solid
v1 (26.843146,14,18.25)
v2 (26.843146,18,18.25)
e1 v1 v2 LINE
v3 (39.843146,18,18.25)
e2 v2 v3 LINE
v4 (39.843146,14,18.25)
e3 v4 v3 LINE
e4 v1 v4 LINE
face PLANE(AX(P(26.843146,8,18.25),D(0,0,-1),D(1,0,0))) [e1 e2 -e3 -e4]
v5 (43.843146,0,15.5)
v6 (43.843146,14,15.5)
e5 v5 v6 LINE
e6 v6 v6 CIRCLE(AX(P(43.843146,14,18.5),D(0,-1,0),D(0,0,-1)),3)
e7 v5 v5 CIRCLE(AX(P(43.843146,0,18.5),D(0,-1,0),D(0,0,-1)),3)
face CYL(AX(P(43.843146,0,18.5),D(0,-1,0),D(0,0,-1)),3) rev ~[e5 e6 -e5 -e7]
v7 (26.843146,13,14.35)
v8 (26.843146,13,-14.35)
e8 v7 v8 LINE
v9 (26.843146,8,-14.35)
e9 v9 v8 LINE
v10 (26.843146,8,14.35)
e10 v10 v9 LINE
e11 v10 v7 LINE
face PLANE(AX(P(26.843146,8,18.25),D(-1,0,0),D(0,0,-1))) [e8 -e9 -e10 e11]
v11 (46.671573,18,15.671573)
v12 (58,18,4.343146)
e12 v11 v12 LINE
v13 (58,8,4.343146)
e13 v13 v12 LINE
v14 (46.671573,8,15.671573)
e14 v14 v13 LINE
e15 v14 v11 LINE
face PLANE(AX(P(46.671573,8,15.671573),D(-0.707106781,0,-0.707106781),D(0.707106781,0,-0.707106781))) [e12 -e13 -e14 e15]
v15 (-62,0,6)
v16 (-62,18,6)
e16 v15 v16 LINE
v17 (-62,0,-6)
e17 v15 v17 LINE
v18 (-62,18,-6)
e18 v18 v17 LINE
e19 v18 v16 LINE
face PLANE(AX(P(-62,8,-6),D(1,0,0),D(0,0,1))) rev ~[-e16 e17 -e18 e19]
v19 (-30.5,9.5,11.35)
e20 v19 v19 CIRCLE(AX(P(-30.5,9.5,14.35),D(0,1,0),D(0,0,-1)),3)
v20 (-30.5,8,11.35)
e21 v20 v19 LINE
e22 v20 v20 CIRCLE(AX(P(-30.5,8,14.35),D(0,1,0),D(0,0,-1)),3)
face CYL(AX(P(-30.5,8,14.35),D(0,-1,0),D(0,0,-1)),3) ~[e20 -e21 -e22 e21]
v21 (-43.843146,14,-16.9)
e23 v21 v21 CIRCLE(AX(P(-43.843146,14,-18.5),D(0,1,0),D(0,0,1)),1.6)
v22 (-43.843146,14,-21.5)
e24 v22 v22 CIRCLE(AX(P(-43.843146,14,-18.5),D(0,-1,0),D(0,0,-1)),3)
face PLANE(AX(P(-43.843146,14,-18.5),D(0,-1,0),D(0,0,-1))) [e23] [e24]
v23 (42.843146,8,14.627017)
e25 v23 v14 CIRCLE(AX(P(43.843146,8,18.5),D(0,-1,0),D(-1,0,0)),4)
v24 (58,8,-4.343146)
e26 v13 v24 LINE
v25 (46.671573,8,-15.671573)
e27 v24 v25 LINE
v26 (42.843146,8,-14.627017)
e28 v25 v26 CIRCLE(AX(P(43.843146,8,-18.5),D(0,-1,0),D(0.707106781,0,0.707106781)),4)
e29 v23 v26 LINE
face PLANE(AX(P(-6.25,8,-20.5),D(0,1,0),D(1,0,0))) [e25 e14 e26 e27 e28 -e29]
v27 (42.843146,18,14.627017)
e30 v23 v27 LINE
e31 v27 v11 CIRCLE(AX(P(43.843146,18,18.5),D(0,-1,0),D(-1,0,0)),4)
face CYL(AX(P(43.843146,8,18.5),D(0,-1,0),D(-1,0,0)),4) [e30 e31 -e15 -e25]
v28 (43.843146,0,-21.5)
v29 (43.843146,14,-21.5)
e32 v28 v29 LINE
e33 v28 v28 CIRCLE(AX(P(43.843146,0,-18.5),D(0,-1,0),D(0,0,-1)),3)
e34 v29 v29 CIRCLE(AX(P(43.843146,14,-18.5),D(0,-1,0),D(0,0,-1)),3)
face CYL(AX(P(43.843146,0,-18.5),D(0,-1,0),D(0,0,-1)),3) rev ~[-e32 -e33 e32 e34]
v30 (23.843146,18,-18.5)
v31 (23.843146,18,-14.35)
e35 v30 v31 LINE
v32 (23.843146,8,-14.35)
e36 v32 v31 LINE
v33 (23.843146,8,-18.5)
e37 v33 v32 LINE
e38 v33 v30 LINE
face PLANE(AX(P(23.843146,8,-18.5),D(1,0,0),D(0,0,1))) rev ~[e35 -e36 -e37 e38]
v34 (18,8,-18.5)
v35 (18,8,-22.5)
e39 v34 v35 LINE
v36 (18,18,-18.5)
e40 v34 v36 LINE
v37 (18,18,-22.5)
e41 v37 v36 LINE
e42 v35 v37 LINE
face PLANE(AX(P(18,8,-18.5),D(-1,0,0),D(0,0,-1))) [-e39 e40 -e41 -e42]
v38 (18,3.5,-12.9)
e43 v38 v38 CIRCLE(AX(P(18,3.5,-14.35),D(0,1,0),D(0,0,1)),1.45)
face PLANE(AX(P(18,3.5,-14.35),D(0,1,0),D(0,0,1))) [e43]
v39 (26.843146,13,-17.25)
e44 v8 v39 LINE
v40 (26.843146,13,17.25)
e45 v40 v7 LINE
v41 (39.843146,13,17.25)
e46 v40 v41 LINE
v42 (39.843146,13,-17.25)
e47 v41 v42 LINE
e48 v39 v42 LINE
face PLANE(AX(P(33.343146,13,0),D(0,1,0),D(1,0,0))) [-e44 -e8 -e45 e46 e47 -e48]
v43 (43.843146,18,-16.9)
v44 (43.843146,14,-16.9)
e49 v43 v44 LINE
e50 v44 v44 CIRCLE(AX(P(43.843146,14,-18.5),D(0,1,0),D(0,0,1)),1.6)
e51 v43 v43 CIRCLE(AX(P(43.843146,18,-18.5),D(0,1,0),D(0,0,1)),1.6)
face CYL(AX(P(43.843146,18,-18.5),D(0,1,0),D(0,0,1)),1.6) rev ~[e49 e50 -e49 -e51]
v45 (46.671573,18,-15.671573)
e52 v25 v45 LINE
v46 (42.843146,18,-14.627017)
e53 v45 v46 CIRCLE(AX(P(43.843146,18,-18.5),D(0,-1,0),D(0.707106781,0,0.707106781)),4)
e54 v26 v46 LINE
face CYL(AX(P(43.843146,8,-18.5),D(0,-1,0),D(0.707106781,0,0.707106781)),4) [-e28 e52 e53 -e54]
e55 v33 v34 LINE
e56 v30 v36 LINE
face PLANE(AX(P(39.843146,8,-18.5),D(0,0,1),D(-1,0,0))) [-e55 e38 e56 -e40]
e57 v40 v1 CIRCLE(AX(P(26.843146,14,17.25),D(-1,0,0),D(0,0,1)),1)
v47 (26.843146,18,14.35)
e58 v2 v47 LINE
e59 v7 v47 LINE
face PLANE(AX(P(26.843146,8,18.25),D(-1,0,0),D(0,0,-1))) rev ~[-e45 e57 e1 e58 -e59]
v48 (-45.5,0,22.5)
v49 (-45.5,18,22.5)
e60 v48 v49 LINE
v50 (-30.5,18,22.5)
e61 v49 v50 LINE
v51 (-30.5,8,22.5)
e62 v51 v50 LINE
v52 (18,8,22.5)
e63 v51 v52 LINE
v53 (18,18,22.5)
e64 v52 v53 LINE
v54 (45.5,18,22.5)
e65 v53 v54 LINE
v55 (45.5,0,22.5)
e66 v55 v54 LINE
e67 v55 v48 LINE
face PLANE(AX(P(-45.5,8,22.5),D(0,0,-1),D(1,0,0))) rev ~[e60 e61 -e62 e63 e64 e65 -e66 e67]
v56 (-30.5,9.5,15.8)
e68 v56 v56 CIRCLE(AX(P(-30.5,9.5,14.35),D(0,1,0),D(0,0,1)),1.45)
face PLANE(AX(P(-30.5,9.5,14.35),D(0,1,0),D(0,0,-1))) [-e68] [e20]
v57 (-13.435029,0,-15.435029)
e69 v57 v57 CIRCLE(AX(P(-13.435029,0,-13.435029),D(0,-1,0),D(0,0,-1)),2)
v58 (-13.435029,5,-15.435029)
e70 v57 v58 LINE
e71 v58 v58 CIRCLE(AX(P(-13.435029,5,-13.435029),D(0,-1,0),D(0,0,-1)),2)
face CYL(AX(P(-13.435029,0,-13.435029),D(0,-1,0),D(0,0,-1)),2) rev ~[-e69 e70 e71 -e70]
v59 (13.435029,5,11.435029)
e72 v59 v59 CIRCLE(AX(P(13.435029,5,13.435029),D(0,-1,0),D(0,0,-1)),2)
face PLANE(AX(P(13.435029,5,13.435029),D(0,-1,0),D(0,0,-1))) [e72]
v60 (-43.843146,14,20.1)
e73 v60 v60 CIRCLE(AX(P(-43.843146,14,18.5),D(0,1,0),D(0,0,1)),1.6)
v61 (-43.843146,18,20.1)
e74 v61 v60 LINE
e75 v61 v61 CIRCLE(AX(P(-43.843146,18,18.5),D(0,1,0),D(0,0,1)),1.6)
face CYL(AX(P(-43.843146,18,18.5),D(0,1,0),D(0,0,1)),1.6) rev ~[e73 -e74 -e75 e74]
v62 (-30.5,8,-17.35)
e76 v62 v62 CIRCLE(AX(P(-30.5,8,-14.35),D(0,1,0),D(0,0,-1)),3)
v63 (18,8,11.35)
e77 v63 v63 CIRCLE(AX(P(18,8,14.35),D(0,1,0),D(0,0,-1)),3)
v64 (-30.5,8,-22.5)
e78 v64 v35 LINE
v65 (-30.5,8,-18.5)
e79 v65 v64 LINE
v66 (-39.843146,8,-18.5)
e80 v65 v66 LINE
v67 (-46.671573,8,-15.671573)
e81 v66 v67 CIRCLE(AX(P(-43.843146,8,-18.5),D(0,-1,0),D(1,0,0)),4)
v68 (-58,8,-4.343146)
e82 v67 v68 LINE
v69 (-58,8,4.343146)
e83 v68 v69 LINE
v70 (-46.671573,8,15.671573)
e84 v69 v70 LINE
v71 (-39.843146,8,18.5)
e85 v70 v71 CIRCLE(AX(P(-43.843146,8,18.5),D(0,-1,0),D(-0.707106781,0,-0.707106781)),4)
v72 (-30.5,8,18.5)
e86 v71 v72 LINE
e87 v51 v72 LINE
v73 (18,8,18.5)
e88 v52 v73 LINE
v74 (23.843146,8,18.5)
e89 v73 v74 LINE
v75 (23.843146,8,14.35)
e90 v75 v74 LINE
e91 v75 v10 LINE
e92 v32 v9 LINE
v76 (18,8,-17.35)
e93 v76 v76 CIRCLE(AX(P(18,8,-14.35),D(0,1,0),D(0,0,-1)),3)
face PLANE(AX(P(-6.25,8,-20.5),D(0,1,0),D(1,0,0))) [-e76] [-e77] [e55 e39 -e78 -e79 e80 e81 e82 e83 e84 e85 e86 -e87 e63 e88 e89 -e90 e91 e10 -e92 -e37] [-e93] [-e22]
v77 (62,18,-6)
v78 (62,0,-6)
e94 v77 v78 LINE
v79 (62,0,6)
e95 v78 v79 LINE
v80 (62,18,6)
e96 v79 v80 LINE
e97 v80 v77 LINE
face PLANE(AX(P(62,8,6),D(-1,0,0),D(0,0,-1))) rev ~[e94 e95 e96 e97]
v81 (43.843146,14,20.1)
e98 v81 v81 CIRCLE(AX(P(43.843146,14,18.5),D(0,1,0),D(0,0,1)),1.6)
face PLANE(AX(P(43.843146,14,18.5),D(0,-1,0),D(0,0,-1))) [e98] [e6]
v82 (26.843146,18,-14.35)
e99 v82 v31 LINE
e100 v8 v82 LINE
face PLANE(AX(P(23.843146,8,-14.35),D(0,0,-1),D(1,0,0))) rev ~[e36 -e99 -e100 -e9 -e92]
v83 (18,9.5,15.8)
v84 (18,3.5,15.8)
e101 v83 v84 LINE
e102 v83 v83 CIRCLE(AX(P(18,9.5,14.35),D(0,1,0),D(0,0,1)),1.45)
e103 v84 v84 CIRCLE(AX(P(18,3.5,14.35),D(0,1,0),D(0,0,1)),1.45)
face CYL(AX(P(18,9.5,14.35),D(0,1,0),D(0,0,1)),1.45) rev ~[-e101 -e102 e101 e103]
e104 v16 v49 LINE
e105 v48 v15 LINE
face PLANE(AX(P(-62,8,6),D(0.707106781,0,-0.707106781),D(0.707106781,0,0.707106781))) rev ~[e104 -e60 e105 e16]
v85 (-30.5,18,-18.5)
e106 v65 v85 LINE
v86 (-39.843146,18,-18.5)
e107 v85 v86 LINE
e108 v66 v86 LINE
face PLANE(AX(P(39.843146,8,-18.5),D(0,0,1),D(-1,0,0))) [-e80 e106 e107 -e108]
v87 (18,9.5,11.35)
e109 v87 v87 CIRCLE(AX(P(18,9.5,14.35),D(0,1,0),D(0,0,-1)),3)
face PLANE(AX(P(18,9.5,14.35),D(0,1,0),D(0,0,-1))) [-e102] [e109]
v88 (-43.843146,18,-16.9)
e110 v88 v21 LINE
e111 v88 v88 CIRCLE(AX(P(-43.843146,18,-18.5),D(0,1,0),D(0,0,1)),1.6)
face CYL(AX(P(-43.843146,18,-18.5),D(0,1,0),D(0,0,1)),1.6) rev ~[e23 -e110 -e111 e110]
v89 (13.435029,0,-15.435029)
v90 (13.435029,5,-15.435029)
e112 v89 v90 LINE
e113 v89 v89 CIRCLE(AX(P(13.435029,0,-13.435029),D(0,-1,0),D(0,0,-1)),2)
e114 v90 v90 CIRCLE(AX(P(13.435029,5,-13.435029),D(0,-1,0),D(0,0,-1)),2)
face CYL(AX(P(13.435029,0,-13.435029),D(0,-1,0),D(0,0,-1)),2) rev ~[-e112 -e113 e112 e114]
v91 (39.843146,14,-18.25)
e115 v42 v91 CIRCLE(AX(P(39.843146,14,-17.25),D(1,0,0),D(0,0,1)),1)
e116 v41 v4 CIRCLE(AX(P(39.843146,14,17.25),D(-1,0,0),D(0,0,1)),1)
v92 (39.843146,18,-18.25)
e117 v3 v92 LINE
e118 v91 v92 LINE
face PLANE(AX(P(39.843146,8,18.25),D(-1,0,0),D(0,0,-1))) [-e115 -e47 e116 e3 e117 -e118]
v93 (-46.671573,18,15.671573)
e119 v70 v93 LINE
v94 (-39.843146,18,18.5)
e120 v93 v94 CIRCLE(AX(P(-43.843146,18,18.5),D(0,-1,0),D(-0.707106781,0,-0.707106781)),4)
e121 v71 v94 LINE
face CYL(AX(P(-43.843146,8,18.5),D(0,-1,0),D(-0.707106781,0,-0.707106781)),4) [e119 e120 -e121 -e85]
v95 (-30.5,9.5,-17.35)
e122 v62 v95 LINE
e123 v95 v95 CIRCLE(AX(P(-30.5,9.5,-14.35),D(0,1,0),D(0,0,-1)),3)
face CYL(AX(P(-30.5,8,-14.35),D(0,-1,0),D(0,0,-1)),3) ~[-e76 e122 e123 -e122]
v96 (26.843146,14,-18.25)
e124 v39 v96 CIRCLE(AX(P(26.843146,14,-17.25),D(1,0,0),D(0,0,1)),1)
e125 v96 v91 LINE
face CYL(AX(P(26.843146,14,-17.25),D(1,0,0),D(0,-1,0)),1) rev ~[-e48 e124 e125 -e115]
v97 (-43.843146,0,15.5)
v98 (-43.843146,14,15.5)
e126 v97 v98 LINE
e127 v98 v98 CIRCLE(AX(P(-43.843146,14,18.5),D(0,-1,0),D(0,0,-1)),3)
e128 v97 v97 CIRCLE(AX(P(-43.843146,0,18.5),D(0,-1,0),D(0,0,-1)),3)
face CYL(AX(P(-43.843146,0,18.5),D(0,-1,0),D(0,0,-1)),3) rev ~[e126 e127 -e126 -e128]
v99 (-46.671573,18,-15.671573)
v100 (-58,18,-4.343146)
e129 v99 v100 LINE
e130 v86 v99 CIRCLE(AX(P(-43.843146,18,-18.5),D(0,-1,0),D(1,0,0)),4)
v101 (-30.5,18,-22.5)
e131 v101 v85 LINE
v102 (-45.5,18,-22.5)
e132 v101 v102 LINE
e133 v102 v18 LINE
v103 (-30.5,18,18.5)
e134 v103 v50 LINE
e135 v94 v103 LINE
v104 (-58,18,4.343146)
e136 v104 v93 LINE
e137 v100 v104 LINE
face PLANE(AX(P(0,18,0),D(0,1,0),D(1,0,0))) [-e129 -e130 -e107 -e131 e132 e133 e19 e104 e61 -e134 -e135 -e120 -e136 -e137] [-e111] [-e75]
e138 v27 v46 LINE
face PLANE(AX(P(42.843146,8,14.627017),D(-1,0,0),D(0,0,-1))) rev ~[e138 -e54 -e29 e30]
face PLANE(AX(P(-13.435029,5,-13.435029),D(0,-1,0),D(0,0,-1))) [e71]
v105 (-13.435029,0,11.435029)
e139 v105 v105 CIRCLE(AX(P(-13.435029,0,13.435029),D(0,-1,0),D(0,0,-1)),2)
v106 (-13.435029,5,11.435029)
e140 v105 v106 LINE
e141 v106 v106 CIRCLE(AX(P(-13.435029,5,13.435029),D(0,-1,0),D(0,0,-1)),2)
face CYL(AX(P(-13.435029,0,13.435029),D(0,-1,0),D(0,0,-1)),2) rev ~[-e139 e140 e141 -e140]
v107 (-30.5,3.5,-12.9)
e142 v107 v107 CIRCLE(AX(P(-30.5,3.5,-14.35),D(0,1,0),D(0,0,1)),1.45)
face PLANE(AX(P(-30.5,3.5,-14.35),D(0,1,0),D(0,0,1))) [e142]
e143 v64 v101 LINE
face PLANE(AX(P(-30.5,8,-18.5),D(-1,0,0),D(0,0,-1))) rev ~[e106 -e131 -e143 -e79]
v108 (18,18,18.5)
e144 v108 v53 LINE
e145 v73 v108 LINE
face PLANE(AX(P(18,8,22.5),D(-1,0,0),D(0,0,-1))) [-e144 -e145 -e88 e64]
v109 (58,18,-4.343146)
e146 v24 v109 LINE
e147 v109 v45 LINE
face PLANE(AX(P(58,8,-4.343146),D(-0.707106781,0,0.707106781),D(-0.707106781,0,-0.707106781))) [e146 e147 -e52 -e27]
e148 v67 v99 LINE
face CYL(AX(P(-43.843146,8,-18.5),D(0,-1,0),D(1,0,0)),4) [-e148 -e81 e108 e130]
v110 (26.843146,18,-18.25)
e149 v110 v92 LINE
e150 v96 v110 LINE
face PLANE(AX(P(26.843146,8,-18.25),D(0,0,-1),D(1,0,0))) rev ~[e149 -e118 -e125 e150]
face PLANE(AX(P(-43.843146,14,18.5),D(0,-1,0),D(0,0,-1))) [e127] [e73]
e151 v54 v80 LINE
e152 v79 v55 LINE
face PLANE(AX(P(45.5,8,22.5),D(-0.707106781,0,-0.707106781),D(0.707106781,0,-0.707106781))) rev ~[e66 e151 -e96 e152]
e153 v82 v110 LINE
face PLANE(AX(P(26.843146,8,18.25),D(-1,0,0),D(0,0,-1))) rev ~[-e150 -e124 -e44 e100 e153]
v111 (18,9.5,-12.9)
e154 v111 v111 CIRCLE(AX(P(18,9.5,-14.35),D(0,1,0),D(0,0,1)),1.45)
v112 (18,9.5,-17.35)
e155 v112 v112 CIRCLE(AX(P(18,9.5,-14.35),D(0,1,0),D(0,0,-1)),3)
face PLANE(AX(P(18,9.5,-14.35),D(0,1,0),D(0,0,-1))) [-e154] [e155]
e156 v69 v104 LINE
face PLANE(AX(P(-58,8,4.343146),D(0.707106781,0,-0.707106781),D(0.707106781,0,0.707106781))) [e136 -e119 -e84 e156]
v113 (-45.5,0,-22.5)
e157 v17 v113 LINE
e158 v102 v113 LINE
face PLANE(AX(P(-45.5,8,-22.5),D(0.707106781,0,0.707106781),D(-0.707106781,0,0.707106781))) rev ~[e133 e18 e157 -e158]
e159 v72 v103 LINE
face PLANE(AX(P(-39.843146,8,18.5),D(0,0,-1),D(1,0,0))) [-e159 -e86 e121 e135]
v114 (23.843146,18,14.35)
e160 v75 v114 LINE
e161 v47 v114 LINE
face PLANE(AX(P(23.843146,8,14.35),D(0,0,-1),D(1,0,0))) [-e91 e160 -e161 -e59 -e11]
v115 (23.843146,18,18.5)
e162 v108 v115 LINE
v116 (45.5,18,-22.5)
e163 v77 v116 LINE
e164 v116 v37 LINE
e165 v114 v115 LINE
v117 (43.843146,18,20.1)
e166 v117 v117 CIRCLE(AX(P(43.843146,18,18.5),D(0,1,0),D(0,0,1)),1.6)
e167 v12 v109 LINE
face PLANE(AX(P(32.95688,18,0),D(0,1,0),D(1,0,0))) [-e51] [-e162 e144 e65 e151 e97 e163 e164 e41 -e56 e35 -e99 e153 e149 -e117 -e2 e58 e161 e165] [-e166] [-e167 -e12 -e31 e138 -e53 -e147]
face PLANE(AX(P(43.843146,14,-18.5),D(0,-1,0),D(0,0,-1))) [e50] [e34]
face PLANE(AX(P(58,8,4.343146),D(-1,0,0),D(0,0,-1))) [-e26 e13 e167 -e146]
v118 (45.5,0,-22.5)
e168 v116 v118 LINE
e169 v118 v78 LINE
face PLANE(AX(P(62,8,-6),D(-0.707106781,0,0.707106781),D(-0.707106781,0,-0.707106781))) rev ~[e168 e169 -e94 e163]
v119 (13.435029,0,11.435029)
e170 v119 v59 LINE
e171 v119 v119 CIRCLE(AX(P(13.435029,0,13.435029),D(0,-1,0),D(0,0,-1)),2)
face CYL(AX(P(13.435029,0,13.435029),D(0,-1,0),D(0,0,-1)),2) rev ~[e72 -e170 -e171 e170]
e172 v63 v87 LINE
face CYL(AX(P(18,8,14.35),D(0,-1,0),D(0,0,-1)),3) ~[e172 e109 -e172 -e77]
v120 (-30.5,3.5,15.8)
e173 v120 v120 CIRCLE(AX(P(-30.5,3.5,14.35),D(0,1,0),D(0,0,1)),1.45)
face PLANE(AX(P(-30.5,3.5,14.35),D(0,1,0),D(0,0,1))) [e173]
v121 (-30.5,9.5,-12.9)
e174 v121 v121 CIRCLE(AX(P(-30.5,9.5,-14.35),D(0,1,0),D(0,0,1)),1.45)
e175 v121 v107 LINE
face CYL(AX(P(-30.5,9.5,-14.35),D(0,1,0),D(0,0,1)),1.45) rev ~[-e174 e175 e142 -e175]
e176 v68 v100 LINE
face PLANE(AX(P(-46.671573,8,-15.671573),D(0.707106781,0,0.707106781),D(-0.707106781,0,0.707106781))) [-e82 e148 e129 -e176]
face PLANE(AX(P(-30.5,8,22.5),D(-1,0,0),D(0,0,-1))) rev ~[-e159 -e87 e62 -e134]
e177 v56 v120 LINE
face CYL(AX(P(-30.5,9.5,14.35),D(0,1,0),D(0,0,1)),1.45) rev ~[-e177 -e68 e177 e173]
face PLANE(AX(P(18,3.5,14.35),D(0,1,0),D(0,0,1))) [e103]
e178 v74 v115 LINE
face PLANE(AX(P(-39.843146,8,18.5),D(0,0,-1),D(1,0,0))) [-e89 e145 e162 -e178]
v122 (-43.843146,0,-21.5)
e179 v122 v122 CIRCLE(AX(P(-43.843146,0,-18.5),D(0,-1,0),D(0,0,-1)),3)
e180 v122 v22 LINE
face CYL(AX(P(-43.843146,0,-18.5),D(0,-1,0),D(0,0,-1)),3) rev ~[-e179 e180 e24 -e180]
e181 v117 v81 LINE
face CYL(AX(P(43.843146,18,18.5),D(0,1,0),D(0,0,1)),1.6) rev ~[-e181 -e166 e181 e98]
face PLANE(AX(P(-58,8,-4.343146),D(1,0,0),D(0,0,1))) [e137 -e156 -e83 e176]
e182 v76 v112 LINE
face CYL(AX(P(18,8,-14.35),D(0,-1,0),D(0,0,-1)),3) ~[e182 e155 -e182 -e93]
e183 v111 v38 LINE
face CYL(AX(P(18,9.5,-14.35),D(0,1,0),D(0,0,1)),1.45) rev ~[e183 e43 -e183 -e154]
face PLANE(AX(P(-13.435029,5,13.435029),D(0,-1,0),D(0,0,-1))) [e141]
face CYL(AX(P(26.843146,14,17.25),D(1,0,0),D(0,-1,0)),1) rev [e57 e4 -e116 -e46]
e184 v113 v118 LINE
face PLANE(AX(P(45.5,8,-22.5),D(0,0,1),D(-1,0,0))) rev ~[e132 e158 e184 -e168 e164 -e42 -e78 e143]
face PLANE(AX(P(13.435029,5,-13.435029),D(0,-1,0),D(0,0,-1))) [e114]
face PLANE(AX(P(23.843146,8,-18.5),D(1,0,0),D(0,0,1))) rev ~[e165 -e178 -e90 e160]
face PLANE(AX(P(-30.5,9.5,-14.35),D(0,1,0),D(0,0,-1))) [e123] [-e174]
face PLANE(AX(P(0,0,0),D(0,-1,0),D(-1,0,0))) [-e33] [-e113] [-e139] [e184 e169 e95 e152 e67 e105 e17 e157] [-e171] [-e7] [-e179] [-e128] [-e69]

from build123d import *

# Parameters (mm, degrees)
BOSS_EXTRUDE1_DEPTH = 8
BOSS_EXTRUDE2_DEPTH = 10
SKETCH6_R           = 3
BOSS_EXTRUDE3_DEPTH = 1.5
SKETCH7_W           = 48.5
SKETCH7_H           = 4
CUT_EXTRUDE3_DEPTH  = 67.710194124
SKETCH8_W           = 13
SKETCH8_H           = 36.5
BOSS_EXTRUDE4_DEPTH = 10
SKETCH9_W           = 3
SKETCH9_H           = 28.7
CUT_EXTRUDE4_DEPTH  = 67.710194124
SKETCH10_R          = 1.6
CUT_EXTRUDE5_DEPTH  = 69.368486893
SKETCH11_R          = 3
CUT_EXTRUDE6_DEPTH  = 14
SKETCH12_R          = 1.45
CUT_EXTRUDE7_DEPTH  = 6
SKETCH13_W          = 13
SKETCH13_H          = 36.5
BOSS_EXTRUDE5_DEPTH = 5
SKETCH14_R          = 2
CUT_EXTRUDE8_DEPTH  = 5
FILLET1_R           = 1


with BuildPart() as part:
    # Sketch2 → Boss-Extrude1 (new body)
    with BuildSketch(Plane(origin=(0, 0, 0), x_dir=(1, 0, 0), z_dir=(0, 1, 0))):
        Polygon((-62, 6), (-45.5, 22.5), (45.5, 22.5), (62, 6), (62, -6), (45.5, -22.5), (-45.5, -22.5), (-62, -6), align=None)
    extrude(amount=BOSS_EXTRUDE1_DEPTH)

    # Sketch5 → Boss-Extrude2 (add)
    with BuildSketch(Plane(origin=(0, 8, 0), x_dir=(1, 0, 0), z_dir=(0, 1, 0))):
        Polygon((-62, 6), (-62, -6), (-45.5, -22.5), (45.5, -22.5), (62, -6), (62, 6), (45.5, 22.5), (-45.5, 22.5), align=None)
        with BuildLine():
            Line((-58, 4.343145751), (-58, -4.343145751))
            Line((-58, -4.343145751), (-46.671572875, -15.671572875))
            ThreePointArc((-46.671572875, -15.671572875), (-42.312412021, -14.80448187), (-39.843145751, -18.5))
            Line((-39.843145751, -18.5), (39.843145751, -18.5))
            ThreePointArc((39.843145751, -18.5), (42.312412021, -14.80448187), (46.671572875, -15.671572875))
            Line((46.671572875, -15.671572875), (58, -4.343145751))
            Line((58, -4.343145751), (58, 4.343145751))
            Line((58, 4.343145751), (46.671572875, 15.671572875))
            ThreePointArc((46.671572875, 15.671572875), (42.312412021, 14.80448187), (39.843145751, 18.5))
            Line((39.843145751, 18.5), (-39.843145751, 18.5))
            ThreePointArc((-39.843145751, 18.5), (-42.312412021, 14.80448187), (-46.671572875, 15.671572875))
            Line((-46.671572875, 15.671572875), (-58, 4.343145751))
        make_face(mode=Mode.SUBTRACT)
    extrude(amount=BOSS_EXTRUDE2_DEPTH)

    # Sketch6 → Boss-Extrude3 (add)
    with BuildSketch(Plane(origin=(0, 8, 0), x_dir=(1, 0, 0), z_dir=(0, 1, 0))):
        with Locations(Location((18, 14.35, 0), (0, 0, 90))):
            Circle(SKETCH6_R)
        with Locations(Location((-30.5, 14.35, 0), (0, 0, 90))):
            Circle(SKETCH6_R)
        with Locations(Location((-30.5, -14.35, 0), (0, 0, 90))):
            Circle(SKETCH6_R)
        with Locations(Location((18, -14.35, 0), (0, 0, 90))):
            Circle(SKETCH6_R)
    extrude(amount=BOSS_EXTRUDE3_DEPTH)

    # Sketch7 → Cut-Extrude3 (cut, through all)
    with BuildSketch(Plane(origin=(0, 8, 0), x_dir=(1, 0, 0), z_dir=(0, 1, 0))):
        with Locations((-6.25, 20.5)):
            Rectangle(SKETCH7_W, SKETCH7_H)
        with Locations((-6.25, -20.5)):
            Rectangle(SKETCH7_W, SKETCH7_H)
    extrude(amount=CUT_EXTRUDE3_DEPTH, mode=Mode.SUBTRACT)

    # Sketch8 → Boss-Extrude4 (add, through all)
    with BuildSketch(Plane(origin=(0, 8, 0), x_dir=(1, 0, 0), z_dir=(0, 1, 0))):
        with BuildLine():
            Line((23.843145751, 18.5), (23.843145751, -18.5))
            Line((23.843145751, -18.5), (39.843145751, -18.5))
            ThreePointArc((39.843145751, -18.5), (40.68086809, -16.050510257), (42.843145751, -14.627016654))
            Line((42.843145751, -14.627016654), (42.843145751, 14.627016654))
            ThreePointArc((42.843145751, 14.627016654), (40.68086809, 16.050510257), (39.843145751, 18.5))
            Line((39.843145751, 18.5), (23.843145751, 18.5))
        make_face()
        with Locations((33.343145751, 0)):
            Rectangle(SKETCH8_W, SKETCH8_H, mode=Mode.SUBTRACT)
    extrude(amount=BOSS_EXTRUDE4_DEPTH)

    # Sketch9 → Cut-Extrude4 (cut, through all)
    with BuildSketch(Plane(origin=(0, 8, 0), x_dir=(1, 0, 0), z_dir=(0, 1, 0))):
        with Locations((25.343145751, 0)):
            Rectangle(SKETCH9_W, SKETCH9_H)
    extrude(amount=CUT_EXTRUDE4_DEPTH, mode=Mode.SUBTRACT)

    # Sketch10 → Cut-Extrude5 (cut, through all)
    with BuildSketch(Plane(origin=(0, 18, 0), x_dir=(1, 0, 0), z_dir=(0, 1, 0))):
        with Locations(Location((-43.843145751, 18.5, 0), (0, 0, 270))):
            Circle(SKETCH10_R)
        with Locations(Location((43.843145751, 18.5, 0), (0, 0, 270))):
            Circle(SKETCH10_R)
        with Locations(Location((43.843145751, -18.5, 0), (0, 0, 270))):
            Circle(SKETCH10_R)
        with Locations(Location((-43.843145751, -18.5, 0), (0, 0, 270))):
            Circle(SKETCH10_R)
    extrude(amount=-CUT_EXTRUDE5_DEPTH, mode=Mode.SUBTRACT)

    # Sketch11 → Cut-Extrude6 (cut)
    with BuildSketch(Plane.XZ):
        with Locations(Location((-43.843145751, 18.5, 0), (0, 0, 270))):
            Circle(SKETCH11_R)
        with Locations(Location((43.843145751, 18.5, 0), (0, 0, 270))):
            Circle(SKETCH11_R)
        with Locations(Location((43.843145751, -18.5, 0), (0, 0, 270))):
            Circle(SKETCH11_R)
        with Locations(Location((-43.843145751, -18.5, 0), (0, 0, 270))):
            Circle(SKETCH11_R)
    extrude(amount=-CUT_EXTRUDE6_DEPTH, mode=Mode.SUBTRACT)

    # Sketch12 → Cut-Extrude7 (cut)
    with BuildSketch(Plane(origin=(0, 9.5, 0), x_dir=(1, 0, 0), z_dir=(0, 1, 0))):
        with Locations(Location((-30.5, 14.35, 0), (0, 0, 270))):
            Circle(SKETCH12_R)
        with Locations(Location((18, 14.35, 0), (0, 0, 270))):
            Circle(SKETCH12_R)
        with Locations(Location((18, -14.35, 0), (0, 0, 270))):
            Circle(SKETCH12_R)
        with Locations(Location((-30.5, -14.35, 0), (0, 0, 270))):
            Circle(SKETCH12_R)
    extrude(amount=-CUT_EXTRUDE7_DEPTH, mode=Mode.SUBTRACT)

    # Sketch13 → Boss-Extrude5 (add)
    with BuildSketch(Plane(origin=(0, 8, 0), x_dir=(1, 0, 0), z_dir=(0, 1, 0))):
        with Locations((33.343145751, 0)):
            Rectangle(SKETCH13_W, SKETCH13_H)
    extrude(amount=BOSS_EXTRUDE5_DEPTH)

    # Sketch14 → Cut-Extrude8 (cut)
    with BuildSketch(Plane.XZ):
        with Locations(Location((-13.435028843, 13.435028843, 0), (0, 0, 270))):
            Circle(SKETCH14_R)
        with Locations(Location((13.435028843, 13.435028843, 0), (0, 0, 270))):
            Circle(SKETCH14_R)
        with Locations(Location((13.435028843, -13.435028843, 0), (0, 0, 270))):
            Circle(SKETCH14_R)
        with Locations(Location((-13.435028843, -13.435028843, 0), (0, 0, 270))):
            Circle(SKETCH14_R)
    extrude(amount=-CUT_EXTRUDE8_DEPTH, mode=Mode.SUBTRACT)

    # Fillet1
    fillet1_edges = [part.edges().sort_by_distance(p)[0] for p in [
        (33.343145751, 13, -18.25),
        (33.343145751, 13, 18.25),
    ]]
    fillet(fillet1_edges, radius=FILLET1_R)


solid = part.part
